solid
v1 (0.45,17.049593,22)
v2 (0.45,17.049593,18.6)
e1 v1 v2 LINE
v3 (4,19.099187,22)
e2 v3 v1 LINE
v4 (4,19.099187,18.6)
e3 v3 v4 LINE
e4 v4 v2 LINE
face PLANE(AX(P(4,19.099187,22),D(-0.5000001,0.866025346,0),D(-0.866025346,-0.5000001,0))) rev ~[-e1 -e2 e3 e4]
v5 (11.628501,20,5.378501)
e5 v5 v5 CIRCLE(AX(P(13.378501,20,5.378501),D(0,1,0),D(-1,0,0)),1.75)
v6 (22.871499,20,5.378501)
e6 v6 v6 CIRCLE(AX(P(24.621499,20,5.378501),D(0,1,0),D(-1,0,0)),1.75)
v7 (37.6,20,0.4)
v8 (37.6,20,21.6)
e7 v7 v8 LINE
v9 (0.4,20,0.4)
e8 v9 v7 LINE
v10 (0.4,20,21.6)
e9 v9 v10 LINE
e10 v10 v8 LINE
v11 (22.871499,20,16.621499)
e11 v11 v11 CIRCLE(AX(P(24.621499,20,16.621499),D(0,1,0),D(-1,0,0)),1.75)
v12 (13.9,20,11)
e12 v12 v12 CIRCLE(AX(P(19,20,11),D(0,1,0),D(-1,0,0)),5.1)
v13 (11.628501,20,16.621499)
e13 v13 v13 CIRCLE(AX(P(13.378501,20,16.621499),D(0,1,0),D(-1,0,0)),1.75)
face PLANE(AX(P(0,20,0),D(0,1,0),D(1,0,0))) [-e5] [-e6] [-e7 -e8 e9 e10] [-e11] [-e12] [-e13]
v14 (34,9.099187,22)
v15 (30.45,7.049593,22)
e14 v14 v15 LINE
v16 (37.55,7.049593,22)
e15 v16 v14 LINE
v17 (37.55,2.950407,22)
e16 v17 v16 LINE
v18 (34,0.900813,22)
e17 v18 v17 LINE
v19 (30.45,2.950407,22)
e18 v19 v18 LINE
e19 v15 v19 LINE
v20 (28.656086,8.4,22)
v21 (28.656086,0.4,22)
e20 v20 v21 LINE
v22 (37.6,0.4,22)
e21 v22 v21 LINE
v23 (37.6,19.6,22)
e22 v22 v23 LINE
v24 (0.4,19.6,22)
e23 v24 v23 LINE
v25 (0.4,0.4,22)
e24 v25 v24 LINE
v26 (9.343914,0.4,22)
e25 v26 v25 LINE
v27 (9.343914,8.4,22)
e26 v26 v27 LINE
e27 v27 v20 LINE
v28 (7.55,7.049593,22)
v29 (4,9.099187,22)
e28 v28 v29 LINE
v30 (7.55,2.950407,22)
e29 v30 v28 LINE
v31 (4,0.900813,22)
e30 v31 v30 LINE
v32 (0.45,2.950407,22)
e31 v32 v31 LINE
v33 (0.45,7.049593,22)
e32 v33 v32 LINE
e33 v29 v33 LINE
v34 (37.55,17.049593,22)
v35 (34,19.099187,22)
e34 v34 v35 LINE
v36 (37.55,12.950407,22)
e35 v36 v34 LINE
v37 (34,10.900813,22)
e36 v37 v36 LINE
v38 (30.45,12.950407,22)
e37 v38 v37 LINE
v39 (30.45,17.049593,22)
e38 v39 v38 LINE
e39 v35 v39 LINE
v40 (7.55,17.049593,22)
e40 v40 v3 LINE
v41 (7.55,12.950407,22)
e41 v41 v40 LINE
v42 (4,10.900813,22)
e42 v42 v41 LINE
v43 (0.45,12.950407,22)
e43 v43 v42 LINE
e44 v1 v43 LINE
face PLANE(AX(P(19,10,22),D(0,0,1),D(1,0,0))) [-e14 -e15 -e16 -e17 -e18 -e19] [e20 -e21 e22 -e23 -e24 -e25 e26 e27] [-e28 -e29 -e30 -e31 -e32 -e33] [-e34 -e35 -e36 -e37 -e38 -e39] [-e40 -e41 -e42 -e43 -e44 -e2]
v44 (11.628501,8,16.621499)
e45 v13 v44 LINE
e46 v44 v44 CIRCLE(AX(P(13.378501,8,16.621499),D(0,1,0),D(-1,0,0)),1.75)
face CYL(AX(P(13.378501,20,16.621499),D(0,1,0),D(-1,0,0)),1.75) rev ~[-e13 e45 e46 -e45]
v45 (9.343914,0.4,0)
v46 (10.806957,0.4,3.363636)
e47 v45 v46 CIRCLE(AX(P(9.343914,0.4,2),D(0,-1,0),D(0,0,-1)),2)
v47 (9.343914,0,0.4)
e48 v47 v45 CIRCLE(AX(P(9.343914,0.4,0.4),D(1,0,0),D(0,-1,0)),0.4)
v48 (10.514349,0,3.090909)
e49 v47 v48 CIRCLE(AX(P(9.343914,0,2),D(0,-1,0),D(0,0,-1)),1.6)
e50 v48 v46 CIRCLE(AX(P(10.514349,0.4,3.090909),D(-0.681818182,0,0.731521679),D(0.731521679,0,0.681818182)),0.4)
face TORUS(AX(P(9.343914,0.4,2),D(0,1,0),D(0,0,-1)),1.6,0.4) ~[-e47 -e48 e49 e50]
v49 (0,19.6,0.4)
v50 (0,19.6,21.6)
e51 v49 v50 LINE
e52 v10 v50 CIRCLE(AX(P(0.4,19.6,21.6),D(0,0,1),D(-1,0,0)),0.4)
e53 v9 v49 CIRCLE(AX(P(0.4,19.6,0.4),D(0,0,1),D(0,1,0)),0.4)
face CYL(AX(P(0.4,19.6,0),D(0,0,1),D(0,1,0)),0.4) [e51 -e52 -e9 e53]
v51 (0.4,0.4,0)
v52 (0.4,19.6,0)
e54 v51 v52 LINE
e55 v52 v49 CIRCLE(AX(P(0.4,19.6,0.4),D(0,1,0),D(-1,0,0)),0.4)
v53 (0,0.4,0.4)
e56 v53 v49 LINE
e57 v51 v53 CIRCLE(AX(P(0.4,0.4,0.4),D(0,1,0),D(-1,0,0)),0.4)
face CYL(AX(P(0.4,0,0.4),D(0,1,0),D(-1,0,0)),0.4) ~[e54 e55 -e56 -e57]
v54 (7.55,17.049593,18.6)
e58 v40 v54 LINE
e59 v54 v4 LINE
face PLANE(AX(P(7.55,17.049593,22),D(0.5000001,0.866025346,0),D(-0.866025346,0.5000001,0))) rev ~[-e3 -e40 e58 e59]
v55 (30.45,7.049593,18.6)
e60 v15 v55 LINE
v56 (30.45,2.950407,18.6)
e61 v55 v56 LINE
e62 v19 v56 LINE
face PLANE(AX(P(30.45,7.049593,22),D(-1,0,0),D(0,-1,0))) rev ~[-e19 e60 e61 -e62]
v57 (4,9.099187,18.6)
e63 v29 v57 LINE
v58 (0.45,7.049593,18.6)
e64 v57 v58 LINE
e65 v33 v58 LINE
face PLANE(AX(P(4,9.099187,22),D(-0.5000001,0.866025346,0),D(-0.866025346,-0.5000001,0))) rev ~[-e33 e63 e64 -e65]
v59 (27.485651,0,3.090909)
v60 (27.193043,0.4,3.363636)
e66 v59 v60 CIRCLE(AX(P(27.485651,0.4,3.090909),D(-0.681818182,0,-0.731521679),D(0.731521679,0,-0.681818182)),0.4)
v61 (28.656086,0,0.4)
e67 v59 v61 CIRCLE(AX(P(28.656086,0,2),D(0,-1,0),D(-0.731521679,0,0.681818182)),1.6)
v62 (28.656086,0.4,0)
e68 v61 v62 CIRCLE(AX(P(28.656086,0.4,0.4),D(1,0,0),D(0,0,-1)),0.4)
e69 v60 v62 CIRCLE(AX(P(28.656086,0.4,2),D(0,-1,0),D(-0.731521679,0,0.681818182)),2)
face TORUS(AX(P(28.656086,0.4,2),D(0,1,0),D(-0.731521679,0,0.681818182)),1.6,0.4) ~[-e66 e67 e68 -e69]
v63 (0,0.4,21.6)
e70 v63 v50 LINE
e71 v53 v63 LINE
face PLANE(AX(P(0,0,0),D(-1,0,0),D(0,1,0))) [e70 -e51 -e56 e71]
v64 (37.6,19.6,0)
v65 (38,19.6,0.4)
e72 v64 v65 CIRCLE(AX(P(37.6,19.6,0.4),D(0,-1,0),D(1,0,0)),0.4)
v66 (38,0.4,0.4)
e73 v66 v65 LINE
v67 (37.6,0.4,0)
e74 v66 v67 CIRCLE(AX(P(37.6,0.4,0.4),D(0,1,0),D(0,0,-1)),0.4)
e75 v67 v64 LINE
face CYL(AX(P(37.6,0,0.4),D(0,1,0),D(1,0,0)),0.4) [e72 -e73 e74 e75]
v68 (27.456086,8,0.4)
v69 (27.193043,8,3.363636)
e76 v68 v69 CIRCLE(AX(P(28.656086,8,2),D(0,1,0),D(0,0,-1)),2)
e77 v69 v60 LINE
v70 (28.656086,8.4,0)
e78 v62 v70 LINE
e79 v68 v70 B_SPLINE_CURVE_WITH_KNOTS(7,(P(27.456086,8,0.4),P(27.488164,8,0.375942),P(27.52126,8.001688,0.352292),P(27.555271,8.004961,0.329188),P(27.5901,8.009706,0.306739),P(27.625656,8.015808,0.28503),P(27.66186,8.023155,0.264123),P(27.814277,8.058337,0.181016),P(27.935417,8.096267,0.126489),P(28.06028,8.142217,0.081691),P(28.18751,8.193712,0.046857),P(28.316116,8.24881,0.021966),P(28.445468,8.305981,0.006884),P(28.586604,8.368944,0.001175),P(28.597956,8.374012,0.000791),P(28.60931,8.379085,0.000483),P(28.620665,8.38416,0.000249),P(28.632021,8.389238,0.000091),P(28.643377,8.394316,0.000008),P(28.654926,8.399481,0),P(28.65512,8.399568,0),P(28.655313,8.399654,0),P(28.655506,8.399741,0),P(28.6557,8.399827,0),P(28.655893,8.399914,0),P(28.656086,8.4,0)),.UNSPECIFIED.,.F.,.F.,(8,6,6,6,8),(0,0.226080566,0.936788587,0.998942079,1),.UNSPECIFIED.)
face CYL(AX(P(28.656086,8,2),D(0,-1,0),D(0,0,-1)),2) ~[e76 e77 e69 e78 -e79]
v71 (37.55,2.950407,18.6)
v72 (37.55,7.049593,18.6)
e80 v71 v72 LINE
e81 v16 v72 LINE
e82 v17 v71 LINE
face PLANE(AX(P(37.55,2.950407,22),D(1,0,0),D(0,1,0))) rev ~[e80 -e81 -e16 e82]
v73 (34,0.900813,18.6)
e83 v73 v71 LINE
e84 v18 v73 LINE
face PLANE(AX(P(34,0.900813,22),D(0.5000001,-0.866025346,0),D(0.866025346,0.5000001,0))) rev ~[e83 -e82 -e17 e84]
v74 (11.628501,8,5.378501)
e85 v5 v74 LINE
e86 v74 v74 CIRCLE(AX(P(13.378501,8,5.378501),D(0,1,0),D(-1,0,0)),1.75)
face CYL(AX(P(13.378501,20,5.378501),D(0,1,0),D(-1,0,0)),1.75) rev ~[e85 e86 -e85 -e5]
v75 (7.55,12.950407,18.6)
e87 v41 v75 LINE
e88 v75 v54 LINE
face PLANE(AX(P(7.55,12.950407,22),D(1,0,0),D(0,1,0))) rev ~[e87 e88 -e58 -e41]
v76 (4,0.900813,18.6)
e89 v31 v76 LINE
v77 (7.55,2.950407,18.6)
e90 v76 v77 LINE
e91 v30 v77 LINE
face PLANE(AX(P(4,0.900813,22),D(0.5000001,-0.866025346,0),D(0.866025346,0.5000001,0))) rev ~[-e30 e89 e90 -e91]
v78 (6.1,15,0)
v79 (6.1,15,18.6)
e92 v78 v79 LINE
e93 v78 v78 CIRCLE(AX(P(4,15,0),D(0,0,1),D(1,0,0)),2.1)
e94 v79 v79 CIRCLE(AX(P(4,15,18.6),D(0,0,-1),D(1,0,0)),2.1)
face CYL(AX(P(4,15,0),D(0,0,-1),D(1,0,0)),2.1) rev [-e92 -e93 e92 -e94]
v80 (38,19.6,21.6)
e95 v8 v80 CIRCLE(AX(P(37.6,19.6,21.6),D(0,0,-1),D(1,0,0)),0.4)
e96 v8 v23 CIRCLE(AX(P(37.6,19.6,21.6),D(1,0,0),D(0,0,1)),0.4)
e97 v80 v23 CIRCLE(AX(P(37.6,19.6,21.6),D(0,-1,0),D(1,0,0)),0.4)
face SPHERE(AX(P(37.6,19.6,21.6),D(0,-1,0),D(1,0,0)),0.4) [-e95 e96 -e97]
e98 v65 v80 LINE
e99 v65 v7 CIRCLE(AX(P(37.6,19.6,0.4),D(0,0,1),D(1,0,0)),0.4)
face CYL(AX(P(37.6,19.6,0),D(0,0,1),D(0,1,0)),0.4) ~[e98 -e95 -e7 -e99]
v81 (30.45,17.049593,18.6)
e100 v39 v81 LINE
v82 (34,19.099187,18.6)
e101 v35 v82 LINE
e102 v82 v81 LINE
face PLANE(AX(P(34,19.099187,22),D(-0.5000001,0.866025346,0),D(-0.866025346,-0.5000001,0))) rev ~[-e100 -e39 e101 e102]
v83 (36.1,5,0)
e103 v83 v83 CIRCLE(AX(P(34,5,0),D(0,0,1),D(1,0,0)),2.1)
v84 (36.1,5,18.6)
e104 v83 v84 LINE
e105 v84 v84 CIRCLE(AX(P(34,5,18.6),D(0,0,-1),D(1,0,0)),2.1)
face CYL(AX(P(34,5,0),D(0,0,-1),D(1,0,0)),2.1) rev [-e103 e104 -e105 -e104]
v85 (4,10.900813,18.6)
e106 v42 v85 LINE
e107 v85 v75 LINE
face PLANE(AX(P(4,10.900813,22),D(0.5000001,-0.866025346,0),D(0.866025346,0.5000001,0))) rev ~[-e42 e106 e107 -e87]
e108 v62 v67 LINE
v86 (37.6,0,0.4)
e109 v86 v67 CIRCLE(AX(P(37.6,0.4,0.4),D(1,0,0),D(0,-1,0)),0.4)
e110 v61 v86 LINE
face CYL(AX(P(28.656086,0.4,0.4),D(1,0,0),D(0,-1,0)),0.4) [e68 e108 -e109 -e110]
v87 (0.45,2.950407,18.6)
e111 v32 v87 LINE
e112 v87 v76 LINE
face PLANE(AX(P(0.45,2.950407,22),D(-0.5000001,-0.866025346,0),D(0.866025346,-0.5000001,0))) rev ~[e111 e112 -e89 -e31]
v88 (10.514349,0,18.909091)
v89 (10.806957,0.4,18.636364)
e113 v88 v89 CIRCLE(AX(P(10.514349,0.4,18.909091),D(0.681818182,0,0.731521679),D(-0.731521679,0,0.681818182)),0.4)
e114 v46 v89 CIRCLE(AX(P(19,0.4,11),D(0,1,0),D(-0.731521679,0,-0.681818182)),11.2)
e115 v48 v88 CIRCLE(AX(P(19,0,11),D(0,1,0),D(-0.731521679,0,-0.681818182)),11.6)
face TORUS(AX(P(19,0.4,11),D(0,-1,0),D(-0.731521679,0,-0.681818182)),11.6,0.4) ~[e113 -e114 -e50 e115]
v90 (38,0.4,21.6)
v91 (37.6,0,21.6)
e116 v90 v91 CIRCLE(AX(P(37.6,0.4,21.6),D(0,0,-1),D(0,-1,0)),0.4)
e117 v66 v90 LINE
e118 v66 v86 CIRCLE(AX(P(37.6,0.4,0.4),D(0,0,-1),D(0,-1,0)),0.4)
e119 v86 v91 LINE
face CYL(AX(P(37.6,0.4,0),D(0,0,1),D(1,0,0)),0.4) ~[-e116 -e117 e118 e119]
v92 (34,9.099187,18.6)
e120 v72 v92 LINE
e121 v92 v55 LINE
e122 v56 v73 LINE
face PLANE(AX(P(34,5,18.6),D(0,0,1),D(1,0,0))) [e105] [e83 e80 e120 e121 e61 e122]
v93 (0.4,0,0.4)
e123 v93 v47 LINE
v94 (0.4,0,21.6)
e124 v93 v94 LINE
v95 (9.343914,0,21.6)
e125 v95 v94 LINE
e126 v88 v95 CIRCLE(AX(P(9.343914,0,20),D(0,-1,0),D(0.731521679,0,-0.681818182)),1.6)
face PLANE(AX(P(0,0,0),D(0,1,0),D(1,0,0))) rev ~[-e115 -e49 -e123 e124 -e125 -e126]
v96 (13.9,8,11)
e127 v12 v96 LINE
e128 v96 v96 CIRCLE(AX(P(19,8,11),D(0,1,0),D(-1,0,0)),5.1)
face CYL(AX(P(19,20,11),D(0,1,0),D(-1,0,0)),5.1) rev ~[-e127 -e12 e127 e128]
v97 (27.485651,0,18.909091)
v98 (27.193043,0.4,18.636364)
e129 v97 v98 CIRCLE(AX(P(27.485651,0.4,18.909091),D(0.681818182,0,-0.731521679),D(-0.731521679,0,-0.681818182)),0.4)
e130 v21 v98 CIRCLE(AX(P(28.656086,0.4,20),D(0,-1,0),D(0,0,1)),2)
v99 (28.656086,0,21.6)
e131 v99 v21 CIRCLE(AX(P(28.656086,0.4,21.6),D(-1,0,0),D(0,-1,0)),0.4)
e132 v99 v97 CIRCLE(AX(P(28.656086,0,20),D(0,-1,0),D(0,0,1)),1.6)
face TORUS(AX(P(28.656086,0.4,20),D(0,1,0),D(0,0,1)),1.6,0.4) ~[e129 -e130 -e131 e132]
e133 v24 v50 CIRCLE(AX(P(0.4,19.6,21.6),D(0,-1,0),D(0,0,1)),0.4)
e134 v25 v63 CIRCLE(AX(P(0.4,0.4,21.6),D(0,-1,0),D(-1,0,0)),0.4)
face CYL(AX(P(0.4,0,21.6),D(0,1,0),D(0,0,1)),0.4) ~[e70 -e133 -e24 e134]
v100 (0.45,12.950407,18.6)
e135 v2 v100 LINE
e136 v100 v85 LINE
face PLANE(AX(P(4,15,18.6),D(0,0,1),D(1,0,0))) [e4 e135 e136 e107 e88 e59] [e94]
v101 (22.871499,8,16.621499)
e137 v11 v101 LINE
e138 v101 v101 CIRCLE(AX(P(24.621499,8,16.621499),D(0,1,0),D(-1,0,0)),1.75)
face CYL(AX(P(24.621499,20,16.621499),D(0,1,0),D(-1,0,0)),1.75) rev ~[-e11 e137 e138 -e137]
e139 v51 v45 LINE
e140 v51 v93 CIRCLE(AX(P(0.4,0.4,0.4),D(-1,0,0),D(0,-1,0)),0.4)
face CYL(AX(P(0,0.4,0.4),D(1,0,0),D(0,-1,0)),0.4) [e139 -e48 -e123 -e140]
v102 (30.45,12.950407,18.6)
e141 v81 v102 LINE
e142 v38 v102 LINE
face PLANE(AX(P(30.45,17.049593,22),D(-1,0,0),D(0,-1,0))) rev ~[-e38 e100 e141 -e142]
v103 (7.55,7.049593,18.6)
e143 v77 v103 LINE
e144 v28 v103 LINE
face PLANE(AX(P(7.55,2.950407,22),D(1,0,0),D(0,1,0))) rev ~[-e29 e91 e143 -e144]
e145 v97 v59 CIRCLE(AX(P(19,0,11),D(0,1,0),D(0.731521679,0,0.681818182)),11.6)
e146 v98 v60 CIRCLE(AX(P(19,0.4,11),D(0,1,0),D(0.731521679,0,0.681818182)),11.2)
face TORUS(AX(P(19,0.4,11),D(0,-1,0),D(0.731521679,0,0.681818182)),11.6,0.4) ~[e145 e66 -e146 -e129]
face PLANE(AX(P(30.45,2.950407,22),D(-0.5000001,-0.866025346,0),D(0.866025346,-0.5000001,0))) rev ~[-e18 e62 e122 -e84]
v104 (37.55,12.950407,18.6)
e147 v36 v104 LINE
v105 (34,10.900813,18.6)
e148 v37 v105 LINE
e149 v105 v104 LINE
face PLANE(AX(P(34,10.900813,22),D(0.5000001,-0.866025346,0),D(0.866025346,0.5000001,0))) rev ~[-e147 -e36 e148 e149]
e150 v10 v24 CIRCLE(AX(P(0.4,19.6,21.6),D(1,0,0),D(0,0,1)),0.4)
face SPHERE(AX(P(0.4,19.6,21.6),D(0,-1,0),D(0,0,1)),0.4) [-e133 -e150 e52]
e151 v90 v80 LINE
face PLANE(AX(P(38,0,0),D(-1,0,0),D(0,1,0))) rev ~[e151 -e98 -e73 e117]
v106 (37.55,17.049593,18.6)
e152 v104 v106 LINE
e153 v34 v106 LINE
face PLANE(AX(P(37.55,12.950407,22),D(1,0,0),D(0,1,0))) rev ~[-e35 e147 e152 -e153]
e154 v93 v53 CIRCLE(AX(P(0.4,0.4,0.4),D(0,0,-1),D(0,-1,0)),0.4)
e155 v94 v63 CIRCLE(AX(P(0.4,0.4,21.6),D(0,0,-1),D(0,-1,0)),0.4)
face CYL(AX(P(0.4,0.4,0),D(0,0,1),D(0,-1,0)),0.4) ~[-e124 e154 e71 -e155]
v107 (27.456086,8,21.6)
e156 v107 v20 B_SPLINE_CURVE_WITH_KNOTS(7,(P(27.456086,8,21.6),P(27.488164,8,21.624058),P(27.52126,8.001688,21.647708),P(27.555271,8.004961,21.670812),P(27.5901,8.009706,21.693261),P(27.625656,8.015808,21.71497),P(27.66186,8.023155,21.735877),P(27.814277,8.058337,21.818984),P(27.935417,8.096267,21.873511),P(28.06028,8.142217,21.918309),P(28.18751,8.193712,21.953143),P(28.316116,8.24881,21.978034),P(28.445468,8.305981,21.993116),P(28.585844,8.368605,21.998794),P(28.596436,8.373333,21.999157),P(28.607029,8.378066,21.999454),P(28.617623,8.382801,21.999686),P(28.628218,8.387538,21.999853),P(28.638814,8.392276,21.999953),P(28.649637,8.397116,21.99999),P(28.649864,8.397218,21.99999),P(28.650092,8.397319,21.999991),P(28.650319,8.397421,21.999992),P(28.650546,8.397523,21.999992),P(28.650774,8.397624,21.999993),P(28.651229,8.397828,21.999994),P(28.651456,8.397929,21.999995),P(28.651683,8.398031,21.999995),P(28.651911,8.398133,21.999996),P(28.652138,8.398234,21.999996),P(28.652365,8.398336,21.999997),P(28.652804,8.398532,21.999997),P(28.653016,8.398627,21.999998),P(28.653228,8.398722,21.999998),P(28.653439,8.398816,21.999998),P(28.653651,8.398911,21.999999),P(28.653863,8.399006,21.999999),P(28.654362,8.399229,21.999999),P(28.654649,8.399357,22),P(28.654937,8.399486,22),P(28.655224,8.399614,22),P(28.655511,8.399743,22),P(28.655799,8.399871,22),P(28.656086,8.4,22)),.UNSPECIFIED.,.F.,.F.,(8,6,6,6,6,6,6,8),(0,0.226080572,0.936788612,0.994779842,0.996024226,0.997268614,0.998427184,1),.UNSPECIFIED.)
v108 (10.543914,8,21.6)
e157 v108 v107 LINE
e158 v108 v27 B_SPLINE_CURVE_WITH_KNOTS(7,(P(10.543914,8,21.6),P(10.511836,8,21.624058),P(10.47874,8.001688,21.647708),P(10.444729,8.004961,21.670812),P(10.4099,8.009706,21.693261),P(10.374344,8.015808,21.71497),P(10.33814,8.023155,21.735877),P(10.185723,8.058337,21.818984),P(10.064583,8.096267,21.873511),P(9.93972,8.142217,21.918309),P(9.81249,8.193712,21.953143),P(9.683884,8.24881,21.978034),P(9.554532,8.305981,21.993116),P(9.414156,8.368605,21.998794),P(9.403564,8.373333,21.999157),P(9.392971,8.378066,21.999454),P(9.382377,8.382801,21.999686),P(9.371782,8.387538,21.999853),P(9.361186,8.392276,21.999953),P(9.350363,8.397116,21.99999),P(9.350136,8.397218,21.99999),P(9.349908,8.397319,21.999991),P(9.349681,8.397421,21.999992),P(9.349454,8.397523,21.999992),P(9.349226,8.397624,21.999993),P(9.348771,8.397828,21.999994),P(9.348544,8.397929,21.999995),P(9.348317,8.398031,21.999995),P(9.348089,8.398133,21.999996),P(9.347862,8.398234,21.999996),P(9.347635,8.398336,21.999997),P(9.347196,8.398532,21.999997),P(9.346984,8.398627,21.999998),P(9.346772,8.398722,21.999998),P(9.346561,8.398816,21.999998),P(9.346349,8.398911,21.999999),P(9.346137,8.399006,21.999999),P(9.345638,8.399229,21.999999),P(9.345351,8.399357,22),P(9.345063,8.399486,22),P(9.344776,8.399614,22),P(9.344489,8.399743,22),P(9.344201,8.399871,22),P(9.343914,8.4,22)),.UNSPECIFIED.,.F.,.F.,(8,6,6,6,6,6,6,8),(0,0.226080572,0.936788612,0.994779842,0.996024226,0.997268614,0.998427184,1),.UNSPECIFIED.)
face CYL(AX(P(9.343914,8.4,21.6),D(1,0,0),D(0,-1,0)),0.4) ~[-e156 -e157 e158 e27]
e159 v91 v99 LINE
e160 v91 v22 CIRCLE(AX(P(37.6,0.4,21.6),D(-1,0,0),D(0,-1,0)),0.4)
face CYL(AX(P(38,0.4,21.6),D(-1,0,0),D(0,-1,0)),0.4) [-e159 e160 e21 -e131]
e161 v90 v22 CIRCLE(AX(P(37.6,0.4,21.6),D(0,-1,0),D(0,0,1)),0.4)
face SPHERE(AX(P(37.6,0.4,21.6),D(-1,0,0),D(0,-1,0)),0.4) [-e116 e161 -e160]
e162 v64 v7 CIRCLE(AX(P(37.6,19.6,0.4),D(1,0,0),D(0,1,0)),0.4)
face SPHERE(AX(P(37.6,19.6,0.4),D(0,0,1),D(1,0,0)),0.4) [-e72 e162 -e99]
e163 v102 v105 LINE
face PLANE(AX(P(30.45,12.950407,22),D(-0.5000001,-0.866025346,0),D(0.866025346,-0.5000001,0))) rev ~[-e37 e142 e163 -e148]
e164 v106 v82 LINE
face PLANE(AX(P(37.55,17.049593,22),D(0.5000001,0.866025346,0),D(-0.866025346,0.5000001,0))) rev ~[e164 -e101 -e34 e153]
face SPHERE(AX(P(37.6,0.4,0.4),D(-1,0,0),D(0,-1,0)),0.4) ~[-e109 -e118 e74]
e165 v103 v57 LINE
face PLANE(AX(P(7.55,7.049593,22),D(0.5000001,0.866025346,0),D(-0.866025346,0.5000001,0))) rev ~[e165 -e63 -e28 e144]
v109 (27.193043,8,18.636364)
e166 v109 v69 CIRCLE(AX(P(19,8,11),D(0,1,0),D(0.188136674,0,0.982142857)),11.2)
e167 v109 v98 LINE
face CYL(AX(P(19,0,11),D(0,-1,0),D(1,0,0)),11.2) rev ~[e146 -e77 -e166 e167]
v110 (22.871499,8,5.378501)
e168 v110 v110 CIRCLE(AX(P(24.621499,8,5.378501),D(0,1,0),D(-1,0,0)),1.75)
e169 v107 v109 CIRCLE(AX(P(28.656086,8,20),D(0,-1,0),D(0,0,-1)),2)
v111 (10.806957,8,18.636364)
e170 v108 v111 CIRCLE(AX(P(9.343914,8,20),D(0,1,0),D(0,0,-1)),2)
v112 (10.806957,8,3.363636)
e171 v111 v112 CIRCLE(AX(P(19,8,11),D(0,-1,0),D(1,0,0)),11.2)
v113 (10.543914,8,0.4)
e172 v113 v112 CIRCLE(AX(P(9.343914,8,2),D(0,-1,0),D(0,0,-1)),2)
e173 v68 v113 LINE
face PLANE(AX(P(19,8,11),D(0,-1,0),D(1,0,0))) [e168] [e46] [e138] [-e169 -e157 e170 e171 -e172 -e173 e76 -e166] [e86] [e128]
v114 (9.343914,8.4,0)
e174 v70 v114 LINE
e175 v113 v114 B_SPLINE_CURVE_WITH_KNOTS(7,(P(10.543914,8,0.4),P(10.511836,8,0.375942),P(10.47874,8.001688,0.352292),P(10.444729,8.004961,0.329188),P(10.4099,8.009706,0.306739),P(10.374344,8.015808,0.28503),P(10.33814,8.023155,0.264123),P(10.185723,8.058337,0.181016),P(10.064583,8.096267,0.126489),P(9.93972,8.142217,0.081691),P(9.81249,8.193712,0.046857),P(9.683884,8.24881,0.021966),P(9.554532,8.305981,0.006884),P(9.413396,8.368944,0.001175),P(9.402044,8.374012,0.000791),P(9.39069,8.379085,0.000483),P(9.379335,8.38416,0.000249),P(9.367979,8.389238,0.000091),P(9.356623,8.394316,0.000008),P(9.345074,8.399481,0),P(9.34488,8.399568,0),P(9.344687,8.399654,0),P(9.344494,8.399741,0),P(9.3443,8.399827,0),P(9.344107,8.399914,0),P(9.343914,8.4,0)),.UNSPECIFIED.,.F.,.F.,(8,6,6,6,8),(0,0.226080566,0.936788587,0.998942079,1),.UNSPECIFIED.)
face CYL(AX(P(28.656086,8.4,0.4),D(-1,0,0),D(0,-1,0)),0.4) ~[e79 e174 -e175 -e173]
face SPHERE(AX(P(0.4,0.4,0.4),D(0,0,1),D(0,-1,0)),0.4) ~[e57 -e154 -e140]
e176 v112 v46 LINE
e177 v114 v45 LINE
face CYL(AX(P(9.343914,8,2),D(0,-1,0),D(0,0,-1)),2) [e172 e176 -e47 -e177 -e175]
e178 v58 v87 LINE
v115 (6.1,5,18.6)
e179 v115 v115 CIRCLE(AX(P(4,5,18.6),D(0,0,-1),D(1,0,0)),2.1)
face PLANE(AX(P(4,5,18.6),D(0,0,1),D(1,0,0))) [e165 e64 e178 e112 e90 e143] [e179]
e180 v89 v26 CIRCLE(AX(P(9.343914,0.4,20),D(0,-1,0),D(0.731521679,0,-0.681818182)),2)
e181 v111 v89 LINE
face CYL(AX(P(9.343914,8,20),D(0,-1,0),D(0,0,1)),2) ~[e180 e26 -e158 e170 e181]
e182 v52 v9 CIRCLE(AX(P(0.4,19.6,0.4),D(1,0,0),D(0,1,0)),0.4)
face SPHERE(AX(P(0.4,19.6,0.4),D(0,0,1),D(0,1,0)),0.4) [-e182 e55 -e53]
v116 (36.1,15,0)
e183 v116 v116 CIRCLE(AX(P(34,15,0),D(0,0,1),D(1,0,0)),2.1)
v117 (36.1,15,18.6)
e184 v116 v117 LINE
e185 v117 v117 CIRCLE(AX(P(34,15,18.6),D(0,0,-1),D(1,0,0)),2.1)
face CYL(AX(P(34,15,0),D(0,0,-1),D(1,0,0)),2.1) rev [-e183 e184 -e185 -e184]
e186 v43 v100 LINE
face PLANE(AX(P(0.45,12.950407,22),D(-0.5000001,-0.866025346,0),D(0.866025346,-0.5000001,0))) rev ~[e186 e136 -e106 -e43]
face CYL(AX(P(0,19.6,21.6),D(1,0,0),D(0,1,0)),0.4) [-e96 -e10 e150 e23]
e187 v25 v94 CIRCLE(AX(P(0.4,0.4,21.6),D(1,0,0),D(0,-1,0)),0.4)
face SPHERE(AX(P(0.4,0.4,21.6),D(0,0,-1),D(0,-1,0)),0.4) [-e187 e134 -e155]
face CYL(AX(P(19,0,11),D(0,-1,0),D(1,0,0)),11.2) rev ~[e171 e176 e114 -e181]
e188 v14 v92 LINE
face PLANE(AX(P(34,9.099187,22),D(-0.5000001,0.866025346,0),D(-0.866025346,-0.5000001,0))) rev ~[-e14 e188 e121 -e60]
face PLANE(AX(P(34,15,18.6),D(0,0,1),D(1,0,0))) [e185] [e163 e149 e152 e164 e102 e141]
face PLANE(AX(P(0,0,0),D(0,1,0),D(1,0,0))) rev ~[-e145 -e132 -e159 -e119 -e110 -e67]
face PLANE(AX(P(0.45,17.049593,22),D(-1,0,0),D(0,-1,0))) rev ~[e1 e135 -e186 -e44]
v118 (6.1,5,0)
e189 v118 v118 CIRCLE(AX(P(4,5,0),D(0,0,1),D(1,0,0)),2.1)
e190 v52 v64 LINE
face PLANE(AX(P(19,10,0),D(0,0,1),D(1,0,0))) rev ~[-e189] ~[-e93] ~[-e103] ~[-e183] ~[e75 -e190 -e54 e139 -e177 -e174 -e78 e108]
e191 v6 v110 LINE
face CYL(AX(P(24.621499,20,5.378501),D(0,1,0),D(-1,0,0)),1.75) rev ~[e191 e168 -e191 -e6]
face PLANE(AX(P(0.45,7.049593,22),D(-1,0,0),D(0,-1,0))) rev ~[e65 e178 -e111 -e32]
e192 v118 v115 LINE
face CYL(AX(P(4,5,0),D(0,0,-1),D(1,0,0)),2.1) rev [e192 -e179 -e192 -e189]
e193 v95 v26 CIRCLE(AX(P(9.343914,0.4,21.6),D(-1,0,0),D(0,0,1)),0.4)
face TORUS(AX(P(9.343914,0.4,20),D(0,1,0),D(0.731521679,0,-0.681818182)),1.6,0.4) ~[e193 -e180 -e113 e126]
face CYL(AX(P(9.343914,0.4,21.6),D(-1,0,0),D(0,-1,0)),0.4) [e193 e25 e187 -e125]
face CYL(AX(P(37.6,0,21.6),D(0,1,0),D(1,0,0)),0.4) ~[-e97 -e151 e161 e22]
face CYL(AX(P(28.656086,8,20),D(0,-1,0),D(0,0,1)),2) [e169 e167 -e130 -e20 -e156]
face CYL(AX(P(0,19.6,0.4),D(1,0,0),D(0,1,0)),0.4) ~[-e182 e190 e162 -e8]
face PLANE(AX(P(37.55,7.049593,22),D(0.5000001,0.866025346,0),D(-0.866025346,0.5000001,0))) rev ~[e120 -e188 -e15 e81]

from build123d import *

# Parameters (mm, degrees)
SKETCH_W        = 38
SKETCH_H        = 20
SKETCH_R        = 2.1
PAD_DEPTH       = 22
SKETCH001_R     = 11.2
POCKET_DEPTH    = 8
SKETCH002_R     = 5.1
SKETCH002_R_2   = 1.75
POCKET001_DEPTH = 20
POCKET002_DEPTH = 3.4
FILLET_R        = 2
FILLET001_R     = 0.4


with BuildPart() as part:
    # Sketch → Pad (new body)
    with BuildSketch(Plane.XY):
        with Locations((19, 10)):
            Rectangle(SKETCH_W, SKETCH_H)
        with Locations((4, 15)):
            Circle(SKETCH_R, mode=Mode.SUBTRACT)
        with Locations((4, 5)):
            Circle(SKETCH_R, mode=Mode.SUBTRACT)
        with Locations((34, 15)):
            Circle(SKETCH_R, mode=Mode.SUBTRACT)
        with Locations((34, 5)):
            Circle(SKETCH_R, mode=Mode.SUBTRACT)
    extrude(amount=PAD_DEPTH)

    # Sketch001 (on Face3 of Pad) → Pocket (cut)
    with BuildSketch(Plane.XZ):
        with Locations((19, 11)):
            Circle(SKETCH001_R)
    extrude(amount=-POCKET_DEPTH, mode=Mode.SUBTRACT)

    # Sketch002 (on Face1 of Pocket) → Pocket001 (cut)
    with BuildSketch(Plane(origin=(0, 20, 0), x_dir=(-1, 0, 0), z_dir=(0, 1, 0))):
        with Locations((-19, 11)):
            Circle(SKETCH002_R)
        with Locations((-13.378501, 16.621499)):
            Circle(SKETCH002_R_2)
        with Locations((-24.621499, 5.378501)):
            Circle(SKETCH002_R_2)
        with Locations((-24.621499, 16.621499)):
            Circle(SKETCH002_R_2)
        with Locations((-13.378501, 5.378501)):
            Circle(SKETCH002_R_2)
    extrude(amount=-POCKET001_DEPTH, mode=Mode.SUBTRACT)

    # Sketch003 (on Face4 of Pocket001) → Pocket002 (cut)
    with BuildSketch(Plane.XY.offset(22)):
        Polygon((4, 10.900813), (7.55, 12.950407), (7.55, 17.049593), (4, 19.099187), (0.45, 17.049593), (0.45, 12.950407), align=None)
        Polygon((34, 10.900813), (37.55, 12.950407), (37.55, 17.049593), (34, 19.099187), (30.45, 17.049593), (30.45, 12.950407), align=None)
        Polygon((34, 9.099187), (30.45, 7.049593), (30.45, 2.950407), (34, 0.900813), (37.55, 2.950407), (37.55, 7.049593), align=None)
        Polygon((4, 9.099187), (0.45, 7.049593), (0.45, 2.950407), (4, 0.900813), (7.55, 2.950407), (7.55, 7.049593), align=None)
    extrude(amount=-POCKET002_DEPTH, mode=Mode.SUBTRACT)

    # Fillet
    fillet_edges = [part.edges().sort_by_distance(p)[0] for p in [
        (16.892869, 4, 22),
        (21.107131, 4, 22),
        (21.107131, 4, 0),
        (16.892869, 4, 0),
    ]]
    fillet(fillet_edges, radius=FILLET_R)

    # Fillet001
    fillet001_edges = [part.edges().sort_by_distance(p)[0] for p in [
        (19, 8, 22),
        (13.118392, 8, 22),
        (24.881608, 8, 22),
        (0, 0, 11),
        (33.328043, 0, 0),
        (4.671957, 0, 0),
        (4.671957, 0, 22),
        (33.328043, 0, 22),
        (26.822064, 0, 20.797724),
        (29.421182, 0, 15.10353),
        (29.421182, 0, 6.89647),
        (26.822064, 0, 1.202276),
        (11.177936, 0, 1.202276),
        (7.8, 0, 11),
        (11.177936, 0, 20.797724),
        (38, 0, 11),
        (38, 10, 22),
        (38, 20, 11),
        (38, 10, 0),
        (0, 10, 22),
        (19, 20, 22),
        (0, 20, 11),
        (19, 20, 0),
        (0, 10, 0),
        (13.118392, 8, 0),
        (19, 8, 0),
        (24.881608, 8, 0),
    ]]
    fillet(fillet001_edges, radius=FILLET001_R)


solid = part.part
